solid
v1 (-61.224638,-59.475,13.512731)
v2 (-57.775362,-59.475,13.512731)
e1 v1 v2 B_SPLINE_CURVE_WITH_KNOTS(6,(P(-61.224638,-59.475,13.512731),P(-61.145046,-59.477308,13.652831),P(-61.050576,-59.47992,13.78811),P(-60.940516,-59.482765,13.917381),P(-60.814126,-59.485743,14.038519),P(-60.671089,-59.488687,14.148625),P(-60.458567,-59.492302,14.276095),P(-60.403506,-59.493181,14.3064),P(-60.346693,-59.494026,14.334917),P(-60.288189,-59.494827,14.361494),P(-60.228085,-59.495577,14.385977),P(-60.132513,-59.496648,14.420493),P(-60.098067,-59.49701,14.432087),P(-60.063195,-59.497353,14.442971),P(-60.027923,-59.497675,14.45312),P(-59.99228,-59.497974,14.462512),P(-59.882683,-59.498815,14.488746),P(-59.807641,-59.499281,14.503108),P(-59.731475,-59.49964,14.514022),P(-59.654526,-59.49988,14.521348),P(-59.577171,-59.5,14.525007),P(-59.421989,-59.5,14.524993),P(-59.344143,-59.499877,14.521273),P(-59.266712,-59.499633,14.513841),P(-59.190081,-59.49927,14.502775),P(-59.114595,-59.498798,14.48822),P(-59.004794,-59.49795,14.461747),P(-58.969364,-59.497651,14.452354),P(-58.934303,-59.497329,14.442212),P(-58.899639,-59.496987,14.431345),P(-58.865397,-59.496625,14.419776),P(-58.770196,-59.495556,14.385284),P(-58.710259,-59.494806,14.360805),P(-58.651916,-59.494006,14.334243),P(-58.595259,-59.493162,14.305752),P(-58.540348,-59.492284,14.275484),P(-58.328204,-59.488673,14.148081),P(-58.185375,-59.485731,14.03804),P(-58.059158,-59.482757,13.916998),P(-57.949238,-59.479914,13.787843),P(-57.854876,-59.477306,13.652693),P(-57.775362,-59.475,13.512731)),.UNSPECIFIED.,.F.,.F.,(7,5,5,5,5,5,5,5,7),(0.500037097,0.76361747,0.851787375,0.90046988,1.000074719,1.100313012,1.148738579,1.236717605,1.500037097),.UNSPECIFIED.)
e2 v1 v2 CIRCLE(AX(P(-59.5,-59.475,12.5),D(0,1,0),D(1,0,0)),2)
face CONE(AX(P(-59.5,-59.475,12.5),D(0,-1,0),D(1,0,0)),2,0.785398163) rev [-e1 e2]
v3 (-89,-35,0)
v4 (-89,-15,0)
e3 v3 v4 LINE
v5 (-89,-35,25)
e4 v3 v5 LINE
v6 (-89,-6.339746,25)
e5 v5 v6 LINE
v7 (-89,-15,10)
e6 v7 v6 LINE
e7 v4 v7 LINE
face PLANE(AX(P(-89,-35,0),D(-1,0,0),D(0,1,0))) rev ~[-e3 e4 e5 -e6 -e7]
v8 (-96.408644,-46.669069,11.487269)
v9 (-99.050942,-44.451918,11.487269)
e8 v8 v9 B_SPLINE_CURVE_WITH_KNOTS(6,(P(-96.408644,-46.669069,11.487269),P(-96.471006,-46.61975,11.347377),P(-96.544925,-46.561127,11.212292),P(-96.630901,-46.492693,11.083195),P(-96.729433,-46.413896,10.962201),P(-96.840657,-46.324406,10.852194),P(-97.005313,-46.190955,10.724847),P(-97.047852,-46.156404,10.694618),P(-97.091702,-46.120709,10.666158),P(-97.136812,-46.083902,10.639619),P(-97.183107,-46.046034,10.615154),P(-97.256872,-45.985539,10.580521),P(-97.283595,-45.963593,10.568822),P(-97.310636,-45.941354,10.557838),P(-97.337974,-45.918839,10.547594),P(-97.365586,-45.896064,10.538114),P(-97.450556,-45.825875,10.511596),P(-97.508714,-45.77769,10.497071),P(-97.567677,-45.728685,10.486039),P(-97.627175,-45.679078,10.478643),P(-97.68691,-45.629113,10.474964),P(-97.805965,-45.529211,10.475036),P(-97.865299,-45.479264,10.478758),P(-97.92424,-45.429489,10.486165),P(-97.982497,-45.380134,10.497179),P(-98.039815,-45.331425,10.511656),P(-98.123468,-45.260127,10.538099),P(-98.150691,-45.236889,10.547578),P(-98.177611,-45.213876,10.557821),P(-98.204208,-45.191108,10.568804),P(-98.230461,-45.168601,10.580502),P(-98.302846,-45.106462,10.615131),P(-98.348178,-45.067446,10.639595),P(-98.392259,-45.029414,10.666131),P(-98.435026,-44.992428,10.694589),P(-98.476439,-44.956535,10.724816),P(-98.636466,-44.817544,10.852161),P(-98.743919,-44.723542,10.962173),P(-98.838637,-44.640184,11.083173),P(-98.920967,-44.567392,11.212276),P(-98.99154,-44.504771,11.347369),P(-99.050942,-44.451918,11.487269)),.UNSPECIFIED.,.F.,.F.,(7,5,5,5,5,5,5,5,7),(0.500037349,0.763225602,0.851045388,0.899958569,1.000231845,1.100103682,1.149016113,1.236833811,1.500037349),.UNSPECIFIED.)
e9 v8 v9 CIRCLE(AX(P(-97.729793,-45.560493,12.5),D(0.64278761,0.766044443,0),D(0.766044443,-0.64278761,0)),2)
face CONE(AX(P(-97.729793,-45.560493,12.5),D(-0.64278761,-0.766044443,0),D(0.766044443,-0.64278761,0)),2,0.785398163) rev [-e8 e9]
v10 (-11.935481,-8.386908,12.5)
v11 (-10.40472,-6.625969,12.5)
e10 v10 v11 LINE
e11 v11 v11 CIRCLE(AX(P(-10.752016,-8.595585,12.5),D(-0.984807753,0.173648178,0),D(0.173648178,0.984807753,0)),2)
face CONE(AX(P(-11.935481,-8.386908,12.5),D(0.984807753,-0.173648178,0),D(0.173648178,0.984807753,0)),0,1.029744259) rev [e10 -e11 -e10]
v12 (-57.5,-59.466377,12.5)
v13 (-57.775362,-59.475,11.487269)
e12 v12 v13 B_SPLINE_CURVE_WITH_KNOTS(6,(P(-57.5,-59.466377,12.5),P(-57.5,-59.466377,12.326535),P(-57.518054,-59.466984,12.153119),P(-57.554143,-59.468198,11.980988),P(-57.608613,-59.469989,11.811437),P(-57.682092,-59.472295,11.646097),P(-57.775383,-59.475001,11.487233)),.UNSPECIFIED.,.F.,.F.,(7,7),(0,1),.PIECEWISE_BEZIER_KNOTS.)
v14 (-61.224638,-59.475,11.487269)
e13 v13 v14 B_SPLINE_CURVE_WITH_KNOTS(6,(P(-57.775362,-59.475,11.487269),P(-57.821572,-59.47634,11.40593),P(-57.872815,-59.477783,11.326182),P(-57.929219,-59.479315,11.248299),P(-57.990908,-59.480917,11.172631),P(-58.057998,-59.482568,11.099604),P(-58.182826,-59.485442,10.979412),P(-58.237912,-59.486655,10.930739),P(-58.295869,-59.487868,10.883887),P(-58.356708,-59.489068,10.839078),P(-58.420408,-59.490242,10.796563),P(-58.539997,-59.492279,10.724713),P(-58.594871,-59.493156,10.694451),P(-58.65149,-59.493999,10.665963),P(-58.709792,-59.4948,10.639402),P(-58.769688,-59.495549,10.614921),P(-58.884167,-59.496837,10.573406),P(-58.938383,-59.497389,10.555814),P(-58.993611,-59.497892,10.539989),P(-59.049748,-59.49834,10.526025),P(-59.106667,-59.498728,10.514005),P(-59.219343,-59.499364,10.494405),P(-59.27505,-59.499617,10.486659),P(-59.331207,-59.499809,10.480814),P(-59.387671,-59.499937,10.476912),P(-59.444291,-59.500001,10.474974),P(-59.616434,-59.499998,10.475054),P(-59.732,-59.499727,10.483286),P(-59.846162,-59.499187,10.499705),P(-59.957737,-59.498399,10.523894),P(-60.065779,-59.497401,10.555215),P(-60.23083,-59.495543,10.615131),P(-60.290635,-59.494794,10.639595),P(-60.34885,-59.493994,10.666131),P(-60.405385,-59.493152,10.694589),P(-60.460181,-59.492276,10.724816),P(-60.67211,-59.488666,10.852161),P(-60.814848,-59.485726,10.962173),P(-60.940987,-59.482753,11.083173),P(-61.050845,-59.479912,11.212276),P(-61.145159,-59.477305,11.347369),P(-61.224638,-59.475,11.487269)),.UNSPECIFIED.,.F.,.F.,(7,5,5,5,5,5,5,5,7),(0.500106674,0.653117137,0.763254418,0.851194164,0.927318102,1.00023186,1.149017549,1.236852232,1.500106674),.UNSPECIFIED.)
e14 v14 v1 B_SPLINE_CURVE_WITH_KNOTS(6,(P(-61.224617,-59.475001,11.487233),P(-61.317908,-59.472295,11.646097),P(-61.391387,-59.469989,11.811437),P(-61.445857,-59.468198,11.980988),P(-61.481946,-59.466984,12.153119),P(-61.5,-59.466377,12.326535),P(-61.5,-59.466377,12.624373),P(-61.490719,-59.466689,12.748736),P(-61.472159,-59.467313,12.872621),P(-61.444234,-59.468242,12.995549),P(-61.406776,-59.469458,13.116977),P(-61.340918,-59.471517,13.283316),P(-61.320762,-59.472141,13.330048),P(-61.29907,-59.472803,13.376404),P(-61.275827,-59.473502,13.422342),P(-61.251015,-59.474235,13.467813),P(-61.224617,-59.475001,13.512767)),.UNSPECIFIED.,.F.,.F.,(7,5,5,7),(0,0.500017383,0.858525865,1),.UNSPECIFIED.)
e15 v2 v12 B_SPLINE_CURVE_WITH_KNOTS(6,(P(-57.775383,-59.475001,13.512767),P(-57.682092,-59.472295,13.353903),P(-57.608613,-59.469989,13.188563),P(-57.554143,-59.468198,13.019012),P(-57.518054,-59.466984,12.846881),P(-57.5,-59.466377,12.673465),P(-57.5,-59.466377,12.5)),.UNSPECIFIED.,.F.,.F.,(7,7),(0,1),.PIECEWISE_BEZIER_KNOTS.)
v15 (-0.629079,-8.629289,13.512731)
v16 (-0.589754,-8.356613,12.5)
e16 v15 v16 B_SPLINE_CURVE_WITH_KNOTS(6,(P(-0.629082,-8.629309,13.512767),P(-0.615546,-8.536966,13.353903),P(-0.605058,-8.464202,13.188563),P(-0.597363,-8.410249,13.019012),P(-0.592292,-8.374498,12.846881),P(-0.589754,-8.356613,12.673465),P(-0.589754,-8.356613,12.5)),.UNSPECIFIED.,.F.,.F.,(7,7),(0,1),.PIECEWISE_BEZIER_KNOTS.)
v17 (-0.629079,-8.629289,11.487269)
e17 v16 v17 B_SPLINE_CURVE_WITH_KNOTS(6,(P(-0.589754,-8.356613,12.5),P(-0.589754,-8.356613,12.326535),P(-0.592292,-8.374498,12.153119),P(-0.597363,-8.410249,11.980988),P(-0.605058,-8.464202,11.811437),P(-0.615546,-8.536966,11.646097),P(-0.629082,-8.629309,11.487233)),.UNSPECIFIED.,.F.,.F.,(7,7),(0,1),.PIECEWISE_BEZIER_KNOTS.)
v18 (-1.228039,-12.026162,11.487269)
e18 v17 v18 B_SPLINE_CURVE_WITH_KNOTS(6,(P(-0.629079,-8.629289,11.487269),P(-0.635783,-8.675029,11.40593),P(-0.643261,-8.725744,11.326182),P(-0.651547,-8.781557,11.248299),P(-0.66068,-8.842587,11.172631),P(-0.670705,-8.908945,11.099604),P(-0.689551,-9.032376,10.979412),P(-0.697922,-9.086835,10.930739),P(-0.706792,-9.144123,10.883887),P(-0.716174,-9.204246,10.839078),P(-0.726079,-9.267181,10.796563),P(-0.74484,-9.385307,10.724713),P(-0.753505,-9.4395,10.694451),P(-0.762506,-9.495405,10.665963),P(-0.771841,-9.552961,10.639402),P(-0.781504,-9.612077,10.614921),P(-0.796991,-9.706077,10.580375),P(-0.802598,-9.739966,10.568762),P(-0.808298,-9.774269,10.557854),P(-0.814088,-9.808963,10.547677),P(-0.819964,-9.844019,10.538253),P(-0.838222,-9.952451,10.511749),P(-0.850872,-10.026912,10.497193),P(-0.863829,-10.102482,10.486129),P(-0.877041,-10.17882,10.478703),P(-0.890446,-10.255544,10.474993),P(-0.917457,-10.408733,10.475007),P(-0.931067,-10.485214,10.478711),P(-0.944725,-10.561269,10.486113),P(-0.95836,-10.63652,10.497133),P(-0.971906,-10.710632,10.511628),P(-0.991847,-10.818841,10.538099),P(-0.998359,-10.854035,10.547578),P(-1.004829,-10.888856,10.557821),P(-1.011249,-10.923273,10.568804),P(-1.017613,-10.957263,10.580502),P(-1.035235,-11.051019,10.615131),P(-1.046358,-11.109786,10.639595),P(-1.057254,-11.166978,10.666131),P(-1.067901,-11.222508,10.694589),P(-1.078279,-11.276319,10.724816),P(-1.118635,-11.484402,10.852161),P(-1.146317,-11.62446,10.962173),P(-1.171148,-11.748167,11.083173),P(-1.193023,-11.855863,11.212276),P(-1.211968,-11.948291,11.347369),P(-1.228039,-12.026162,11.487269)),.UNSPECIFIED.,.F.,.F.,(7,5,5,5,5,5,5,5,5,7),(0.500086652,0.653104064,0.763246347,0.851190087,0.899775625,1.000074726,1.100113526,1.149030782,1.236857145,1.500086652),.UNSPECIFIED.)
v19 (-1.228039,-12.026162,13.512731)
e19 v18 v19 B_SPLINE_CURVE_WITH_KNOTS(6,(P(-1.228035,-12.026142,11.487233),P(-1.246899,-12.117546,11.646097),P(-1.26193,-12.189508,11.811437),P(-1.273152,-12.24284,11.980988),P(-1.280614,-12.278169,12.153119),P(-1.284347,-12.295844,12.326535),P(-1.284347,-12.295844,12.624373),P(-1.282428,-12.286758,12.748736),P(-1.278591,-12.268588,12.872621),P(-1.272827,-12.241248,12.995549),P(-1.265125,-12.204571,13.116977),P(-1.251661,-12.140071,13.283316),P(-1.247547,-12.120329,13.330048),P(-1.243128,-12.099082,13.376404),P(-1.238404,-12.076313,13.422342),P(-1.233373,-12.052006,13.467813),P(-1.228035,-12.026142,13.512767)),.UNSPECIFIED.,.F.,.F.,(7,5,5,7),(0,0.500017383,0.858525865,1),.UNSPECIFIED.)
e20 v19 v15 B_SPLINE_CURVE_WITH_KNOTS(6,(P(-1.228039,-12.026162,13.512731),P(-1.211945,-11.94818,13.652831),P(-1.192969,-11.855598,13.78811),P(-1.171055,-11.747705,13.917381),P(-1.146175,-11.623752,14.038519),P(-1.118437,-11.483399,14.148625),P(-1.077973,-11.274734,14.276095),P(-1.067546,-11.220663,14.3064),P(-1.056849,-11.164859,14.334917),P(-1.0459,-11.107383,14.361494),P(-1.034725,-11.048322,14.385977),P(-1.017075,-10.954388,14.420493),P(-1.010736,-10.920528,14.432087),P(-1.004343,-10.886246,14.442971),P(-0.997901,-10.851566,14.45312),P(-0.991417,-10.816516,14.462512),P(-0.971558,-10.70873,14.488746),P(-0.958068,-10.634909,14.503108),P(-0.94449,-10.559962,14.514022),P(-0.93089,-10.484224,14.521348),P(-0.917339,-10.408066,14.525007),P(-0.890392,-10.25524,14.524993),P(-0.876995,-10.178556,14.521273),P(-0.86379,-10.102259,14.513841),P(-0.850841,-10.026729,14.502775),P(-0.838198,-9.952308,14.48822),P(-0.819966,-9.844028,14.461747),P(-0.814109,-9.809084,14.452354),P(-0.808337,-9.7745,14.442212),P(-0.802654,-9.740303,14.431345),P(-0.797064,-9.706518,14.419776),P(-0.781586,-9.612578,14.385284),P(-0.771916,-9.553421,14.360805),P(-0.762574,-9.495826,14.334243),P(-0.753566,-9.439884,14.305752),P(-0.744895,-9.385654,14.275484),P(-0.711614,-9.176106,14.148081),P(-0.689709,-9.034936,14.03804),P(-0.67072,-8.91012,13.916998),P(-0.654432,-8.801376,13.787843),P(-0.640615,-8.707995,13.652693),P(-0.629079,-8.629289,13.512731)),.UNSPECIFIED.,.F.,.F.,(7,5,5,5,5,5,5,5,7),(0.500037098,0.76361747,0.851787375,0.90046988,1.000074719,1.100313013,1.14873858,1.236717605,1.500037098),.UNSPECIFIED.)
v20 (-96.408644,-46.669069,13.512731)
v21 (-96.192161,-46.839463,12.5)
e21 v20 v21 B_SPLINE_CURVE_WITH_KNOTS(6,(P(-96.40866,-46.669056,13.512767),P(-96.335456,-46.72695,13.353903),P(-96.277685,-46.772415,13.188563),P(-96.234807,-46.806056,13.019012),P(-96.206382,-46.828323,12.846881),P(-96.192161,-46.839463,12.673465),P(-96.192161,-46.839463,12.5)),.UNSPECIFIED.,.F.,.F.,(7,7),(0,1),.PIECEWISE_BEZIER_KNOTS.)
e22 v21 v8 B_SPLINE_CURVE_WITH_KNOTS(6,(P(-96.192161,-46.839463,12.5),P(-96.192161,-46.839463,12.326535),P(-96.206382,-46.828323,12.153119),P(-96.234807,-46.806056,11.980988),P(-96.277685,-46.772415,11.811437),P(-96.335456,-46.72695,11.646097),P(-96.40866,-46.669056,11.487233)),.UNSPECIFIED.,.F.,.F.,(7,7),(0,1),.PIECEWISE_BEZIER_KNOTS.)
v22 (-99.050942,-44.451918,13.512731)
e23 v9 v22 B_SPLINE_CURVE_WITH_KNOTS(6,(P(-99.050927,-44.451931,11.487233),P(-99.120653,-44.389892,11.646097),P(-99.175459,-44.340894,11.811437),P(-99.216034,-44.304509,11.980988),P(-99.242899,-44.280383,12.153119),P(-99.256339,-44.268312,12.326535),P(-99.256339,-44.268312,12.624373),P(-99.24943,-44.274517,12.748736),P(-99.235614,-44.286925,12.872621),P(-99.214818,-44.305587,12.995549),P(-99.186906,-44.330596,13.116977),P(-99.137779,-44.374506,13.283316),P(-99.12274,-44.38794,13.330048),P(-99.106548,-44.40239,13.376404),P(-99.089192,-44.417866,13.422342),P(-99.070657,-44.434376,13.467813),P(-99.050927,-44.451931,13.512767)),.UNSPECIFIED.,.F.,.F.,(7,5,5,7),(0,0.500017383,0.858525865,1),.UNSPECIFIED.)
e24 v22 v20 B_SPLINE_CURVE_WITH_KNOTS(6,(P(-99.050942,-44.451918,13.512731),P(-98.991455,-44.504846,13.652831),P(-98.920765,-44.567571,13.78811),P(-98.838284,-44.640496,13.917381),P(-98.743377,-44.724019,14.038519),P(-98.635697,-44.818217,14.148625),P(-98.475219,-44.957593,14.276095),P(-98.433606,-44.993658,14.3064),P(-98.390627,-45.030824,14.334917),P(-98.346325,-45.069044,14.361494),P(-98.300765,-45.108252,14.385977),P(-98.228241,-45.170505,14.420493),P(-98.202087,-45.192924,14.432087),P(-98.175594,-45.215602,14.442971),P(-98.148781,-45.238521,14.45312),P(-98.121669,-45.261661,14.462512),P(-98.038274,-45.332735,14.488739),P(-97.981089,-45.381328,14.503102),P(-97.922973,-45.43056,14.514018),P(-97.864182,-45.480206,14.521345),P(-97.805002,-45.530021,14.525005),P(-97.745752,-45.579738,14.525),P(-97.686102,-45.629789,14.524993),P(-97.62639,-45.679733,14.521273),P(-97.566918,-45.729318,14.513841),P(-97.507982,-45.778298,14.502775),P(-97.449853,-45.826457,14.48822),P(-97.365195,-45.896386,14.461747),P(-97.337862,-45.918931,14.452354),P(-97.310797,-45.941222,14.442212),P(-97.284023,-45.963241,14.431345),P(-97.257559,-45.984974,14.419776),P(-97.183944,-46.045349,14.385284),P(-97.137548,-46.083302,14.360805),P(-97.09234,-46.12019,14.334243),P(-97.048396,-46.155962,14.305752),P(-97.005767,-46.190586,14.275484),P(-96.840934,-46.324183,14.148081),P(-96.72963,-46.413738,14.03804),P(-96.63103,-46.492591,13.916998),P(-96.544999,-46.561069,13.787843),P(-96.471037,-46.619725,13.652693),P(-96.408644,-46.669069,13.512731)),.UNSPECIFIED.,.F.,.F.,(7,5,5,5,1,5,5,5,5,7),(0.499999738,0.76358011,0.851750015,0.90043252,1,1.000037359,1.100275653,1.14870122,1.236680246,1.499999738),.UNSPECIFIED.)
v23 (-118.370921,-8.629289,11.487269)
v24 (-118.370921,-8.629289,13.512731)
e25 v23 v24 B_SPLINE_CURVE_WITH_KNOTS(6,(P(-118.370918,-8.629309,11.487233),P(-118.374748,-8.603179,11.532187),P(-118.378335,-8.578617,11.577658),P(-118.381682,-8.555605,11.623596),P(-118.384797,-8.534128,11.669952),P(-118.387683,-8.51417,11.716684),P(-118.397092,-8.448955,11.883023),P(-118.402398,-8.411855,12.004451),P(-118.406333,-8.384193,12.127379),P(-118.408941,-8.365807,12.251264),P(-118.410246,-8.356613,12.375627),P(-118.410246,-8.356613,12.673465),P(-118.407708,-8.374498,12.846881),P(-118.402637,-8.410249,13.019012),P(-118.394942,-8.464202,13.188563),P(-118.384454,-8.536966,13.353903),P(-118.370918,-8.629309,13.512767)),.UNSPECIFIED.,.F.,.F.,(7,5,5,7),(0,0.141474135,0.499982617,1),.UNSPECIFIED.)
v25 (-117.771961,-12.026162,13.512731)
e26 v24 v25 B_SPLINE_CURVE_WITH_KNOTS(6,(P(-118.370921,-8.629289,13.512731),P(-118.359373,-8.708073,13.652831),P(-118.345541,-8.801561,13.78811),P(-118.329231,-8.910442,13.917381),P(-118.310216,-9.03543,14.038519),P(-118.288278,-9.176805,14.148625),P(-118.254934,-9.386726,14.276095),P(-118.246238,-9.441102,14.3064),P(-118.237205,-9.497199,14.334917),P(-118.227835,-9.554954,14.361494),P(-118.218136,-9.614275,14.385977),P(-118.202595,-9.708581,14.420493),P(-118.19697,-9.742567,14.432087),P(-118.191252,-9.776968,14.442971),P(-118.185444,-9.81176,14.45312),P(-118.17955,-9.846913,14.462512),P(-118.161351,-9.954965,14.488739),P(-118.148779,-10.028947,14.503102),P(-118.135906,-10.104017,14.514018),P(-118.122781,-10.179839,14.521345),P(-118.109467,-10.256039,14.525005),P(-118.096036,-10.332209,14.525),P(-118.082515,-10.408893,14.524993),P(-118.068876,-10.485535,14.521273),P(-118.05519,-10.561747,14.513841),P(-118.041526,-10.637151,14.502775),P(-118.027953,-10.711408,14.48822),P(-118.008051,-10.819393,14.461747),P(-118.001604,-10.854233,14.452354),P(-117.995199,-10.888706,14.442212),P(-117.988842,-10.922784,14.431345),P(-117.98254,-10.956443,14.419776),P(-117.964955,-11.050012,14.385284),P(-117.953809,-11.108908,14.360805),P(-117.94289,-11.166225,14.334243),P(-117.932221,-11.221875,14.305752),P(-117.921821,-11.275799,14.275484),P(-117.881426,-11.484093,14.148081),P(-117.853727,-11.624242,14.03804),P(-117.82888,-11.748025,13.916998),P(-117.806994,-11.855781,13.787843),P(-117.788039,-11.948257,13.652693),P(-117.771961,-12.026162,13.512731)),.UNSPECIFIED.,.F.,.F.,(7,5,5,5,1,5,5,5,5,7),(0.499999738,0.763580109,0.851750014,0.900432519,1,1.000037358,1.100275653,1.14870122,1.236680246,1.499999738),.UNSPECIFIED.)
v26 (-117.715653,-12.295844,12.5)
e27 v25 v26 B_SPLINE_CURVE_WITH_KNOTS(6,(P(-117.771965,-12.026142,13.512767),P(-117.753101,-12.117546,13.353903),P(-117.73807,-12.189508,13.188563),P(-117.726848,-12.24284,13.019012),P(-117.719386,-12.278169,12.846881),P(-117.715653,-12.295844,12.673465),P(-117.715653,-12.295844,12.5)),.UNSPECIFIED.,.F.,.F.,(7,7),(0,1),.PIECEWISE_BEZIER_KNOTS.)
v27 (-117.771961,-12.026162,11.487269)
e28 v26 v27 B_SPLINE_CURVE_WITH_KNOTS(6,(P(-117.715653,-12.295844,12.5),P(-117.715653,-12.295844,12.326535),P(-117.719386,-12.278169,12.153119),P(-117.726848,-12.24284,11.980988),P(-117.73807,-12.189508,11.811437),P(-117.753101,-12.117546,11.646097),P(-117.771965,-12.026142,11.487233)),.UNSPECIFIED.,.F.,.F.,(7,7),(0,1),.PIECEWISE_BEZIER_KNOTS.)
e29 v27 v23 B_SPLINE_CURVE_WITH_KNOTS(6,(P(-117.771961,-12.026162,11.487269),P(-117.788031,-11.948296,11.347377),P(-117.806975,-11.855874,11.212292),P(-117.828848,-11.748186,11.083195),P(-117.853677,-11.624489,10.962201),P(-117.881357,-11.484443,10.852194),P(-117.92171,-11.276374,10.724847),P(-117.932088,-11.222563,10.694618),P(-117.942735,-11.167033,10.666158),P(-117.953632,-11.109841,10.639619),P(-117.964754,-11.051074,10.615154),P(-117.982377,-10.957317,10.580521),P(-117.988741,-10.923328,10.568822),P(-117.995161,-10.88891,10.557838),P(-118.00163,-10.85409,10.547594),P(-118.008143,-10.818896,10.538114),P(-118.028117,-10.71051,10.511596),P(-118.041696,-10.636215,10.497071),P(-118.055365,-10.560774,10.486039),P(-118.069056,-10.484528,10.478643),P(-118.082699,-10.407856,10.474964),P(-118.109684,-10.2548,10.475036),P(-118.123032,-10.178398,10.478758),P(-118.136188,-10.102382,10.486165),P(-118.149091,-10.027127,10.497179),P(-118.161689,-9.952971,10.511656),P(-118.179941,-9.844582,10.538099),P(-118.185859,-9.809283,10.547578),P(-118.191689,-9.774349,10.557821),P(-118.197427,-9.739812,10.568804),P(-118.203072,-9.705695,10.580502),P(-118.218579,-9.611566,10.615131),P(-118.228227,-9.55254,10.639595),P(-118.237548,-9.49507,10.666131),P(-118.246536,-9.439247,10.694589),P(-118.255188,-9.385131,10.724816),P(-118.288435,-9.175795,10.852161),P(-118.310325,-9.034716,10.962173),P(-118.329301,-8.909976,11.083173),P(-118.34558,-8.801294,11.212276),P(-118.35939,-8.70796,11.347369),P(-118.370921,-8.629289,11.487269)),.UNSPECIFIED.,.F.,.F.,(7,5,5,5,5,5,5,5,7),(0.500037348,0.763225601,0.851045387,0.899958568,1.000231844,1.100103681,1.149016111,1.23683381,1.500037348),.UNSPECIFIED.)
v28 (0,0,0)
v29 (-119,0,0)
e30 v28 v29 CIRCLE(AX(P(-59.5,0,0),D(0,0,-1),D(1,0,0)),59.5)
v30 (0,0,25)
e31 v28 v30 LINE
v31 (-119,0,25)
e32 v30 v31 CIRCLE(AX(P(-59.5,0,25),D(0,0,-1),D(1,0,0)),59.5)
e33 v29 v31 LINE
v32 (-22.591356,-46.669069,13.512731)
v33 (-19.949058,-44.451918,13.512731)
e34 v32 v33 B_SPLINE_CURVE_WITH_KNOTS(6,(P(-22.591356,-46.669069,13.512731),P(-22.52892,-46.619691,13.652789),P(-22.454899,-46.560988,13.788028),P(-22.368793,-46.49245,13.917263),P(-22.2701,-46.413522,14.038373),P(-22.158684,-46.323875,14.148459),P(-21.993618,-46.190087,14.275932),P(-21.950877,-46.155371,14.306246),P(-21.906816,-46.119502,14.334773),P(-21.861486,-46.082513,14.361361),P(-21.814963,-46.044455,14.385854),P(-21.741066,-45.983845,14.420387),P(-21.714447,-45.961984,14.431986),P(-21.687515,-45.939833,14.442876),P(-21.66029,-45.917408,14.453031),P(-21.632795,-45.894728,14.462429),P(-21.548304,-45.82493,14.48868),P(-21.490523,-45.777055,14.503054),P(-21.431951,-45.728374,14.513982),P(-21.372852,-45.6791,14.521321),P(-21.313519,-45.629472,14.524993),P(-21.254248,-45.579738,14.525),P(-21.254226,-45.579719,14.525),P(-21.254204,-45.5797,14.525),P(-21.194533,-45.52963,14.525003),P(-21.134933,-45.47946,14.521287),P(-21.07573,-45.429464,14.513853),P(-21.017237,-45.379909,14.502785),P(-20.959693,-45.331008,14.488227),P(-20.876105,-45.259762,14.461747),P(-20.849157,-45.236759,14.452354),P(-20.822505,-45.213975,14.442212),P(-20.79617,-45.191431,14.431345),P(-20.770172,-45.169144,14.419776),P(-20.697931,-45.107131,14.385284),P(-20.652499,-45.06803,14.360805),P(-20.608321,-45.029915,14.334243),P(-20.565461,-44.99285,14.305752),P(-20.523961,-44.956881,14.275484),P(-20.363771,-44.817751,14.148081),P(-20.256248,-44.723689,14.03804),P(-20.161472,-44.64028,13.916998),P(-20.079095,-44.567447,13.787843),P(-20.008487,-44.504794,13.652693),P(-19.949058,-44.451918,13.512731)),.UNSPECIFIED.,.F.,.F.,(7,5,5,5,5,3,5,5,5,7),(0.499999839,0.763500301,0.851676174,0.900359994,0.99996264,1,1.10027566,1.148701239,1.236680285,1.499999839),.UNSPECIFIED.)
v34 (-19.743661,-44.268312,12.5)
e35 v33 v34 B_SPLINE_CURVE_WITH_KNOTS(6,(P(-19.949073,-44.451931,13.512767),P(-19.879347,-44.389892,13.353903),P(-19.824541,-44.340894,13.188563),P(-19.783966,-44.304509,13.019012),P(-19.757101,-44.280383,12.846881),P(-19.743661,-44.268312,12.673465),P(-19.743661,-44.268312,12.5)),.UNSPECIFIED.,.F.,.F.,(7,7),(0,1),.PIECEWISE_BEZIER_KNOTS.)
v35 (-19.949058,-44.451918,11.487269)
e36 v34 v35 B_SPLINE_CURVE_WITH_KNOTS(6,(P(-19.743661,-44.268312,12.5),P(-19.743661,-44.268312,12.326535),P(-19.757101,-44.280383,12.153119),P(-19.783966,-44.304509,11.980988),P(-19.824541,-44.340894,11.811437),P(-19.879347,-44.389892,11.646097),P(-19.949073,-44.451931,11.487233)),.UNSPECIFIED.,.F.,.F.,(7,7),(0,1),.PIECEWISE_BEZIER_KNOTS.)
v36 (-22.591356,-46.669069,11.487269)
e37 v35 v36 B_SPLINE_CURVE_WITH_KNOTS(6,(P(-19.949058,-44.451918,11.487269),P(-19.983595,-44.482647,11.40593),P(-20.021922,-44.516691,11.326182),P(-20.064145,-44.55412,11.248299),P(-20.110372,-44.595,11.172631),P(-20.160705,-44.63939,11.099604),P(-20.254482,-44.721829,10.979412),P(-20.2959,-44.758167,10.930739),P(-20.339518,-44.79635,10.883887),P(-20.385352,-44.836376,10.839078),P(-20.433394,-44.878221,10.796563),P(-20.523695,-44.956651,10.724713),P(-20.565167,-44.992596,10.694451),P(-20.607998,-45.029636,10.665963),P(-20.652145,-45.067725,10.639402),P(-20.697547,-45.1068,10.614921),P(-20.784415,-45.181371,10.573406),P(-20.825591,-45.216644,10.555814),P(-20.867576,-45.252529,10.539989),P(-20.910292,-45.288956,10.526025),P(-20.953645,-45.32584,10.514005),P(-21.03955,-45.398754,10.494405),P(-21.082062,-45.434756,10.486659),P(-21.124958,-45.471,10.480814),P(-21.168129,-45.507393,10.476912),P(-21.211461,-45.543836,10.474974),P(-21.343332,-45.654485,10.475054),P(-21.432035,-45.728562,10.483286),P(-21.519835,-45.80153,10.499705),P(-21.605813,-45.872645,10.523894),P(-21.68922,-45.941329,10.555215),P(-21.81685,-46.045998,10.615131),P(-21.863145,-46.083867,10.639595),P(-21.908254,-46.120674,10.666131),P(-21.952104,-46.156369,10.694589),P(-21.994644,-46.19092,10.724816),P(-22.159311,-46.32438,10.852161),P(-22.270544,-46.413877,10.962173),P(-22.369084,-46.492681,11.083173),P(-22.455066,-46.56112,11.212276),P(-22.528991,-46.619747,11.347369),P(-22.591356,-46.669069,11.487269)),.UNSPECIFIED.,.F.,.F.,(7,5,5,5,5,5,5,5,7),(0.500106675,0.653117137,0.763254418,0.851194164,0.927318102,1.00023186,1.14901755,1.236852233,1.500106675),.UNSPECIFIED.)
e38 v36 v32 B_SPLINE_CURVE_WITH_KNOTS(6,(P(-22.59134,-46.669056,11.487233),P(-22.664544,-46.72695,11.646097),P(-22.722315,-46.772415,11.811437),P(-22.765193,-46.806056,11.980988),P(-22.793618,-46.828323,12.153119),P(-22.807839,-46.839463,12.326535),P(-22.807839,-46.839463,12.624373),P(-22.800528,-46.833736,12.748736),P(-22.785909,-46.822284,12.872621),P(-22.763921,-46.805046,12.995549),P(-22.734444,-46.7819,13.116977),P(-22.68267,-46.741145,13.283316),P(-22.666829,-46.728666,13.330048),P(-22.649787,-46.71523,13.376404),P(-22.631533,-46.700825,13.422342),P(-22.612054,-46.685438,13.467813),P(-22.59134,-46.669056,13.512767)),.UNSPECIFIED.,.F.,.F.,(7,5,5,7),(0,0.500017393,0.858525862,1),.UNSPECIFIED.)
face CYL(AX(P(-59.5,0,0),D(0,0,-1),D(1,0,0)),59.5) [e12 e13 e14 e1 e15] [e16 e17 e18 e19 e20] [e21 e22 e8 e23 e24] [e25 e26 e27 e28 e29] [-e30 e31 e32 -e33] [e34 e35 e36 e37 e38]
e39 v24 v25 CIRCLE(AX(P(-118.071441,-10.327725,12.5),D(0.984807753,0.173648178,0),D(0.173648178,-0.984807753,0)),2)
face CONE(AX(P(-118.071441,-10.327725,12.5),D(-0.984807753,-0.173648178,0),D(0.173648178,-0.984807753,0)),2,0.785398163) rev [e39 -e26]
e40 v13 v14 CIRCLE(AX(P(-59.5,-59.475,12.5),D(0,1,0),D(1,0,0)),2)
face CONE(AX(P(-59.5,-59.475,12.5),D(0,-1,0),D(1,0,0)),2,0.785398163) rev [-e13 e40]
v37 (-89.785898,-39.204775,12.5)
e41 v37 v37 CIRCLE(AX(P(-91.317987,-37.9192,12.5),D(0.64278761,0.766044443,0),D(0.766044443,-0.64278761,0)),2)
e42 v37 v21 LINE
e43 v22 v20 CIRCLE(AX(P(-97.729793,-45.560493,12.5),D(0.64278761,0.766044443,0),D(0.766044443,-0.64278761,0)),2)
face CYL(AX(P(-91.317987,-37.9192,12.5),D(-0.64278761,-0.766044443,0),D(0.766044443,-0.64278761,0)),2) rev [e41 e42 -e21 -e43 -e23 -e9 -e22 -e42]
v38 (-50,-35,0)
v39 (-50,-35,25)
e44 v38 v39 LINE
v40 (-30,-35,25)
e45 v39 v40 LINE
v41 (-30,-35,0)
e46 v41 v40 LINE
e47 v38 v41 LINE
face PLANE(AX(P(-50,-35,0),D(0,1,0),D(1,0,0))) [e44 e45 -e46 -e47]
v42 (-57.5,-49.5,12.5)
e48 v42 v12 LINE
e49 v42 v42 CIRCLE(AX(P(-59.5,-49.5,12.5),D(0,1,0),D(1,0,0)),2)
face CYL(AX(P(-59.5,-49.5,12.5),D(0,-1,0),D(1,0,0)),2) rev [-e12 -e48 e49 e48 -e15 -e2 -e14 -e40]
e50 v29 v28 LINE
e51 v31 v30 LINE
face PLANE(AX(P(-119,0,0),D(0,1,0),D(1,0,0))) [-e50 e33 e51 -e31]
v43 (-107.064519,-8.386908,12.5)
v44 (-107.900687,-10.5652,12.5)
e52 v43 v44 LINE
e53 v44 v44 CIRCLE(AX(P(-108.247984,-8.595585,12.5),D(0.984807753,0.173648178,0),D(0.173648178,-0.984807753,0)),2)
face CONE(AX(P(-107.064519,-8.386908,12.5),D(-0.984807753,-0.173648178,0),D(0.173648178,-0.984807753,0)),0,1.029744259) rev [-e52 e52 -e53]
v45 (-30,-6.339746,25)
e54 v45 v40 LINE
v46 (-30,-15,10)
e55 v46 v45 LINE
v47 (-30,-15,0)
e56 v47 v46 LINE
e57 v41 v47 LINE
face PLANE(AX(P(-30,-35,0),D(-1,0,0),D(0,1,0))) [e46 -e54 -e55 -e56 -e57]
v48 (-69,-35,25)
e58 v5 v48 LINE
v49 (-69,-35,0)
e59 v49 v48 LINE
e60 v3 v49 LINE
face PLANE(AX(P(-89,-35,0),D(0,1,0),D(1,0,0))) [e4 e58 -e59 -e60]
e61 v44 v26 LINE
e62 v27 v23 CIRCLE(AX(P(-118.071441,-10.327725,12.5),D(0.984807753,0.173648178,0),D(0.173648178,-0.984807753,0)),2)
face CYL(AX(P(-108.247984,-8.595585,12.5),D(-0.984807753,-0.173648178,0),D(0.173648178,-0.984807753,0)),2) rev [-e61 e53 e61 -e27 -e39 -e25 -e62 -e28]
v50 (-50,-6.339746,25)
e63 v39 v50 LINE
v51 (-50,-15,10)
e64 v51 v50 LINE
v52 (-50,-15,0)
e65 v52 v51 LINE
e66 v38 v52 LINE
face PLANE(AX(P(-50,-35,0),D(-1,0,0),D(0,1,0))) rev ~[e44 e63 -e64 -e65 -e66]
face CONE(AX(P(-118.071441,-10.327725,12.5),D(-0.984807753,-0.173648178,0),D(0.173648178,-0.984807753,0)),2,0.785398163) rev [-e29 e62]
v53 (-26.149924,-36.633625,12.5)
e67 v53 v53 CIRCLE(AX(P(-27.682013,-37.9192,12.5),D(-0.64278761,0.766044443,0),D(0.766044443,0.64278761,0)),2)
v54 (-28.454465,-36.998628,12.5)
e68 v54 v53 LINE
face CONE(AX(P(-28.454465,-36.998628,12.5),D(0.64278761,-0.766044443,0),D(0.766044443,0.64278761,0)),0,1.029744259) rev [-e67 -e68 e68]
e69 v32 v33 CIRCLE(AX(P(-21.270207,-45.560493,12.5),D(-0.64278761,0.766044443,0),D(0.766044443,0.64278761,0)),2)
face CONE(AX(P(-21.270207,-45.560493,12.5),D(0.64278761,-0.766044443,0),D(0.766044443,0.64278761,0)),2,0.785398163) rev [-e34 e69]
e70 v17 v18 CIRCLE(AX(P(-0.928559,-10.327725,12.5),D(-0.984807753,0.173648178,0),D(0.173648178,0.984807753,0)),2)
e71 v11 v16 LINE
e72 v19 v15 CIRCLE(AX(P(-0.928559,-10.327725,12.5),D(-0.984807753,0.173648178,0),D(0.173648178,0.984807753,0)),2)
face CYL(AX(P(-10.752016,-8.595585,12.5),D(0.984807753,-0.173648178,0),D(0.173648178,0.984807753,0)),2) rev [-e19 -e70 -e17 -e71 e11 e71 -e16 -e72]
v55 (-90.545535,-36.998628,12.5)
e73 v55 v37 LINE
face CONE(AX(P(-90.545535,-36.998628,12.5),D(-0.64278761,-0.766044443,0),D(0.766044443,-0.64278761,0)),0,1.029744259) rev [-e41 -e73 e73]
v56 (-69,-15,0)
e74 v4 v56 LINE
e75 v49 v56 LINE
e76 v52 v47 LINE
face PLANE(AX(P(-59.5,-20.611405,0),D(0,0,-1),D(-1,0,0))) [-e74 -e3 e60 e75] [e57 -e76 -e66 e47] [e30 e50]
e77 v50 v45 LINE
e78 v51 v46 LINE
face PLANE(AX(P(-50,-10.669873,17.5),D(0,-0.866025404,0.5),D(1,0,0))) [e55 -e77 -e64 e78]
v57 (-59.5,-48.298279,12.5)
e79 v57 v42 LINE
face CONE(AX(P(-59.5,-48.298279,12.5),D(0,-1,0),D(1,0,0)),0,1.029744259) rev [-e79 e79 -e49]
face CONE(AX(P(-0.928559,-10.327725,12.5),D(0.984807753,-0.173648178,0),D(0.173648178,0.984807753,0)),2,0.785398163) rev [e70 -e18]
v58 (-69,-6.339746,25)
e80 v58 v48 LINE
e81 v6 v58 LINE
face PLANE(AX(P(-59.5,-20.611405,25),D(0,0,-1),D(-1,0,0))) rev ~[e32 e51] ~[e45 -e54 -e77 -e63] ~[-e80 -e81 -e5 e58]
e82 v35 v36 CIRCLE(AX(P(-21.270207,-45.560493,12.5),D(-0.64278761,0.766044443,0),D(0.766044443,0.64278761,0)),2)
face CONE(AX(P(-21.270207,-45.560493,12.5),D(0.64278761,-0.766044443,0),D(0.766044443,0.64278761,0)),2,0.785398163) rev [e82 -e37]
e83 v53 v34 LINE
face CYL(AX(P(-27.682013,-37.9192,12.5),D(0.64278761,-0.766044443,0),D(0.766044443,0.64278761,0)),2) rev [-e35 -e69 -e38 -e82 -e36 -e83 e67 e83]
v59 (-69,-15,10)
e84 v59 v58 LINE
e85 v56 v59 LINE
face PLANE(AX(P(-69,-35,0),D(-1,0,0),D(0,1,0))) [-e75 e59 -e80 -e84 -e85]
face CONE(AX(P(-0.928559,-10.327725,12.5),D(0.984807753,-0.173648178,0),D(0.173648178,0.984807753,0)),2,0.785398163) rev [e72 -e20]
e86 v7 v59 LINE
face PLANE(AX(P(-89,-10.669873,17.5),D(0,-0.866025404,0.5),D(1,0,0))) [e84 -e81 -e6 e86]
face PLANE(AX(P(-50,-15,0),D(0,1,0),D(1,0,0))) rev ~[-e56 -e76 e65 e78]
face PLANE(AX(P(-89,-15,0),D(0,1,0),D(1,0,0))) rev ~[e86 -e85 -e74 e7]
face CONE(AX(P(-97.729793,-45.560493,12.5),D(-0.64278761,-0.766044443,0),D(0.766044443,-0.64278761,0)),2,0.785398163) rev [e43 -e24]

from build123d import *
from OCP.BRepFilletAPI import BRepFilletAPI_MakeChamfer

# Parameters (mm, degrees)
SKETCH1_W           = 20
SKETCH1_H           = 20
BOSS_EXTRUDE1_DEPTH = 25
CIRPATTERN1_COUNT   = 5
CIRPATTERN1_ANGLE   = 160
CHAMFER1_SIZE       = 15
CHAMFER1_SIZE2      = 8.660254038


with BuildPart() as part:
    # Sketch1 → Boss-Extrude1 (new body)
    with BuildSketch(Plane.XY):
        with BuildLine():
            Line((-119, 0), (0, 0))
            ThreePointArc((0, 0), (-59.5, -59.5), (-119, 0))
        make_face()
        with Locations((-40, -25)):
            Rectangle(SKETCH1_W, SKETCH1_H, mode=Mode.SUBTRACT)
        with Locations((-79, -25)):
            Rectangle(SKETCH1_W, SKETCH1_H, mode=Mode.SUBTRACT)
    extrude(amount=BOSS_EXTRUDE1_DEPTH)

    # Sketch4 → Ø4.0mm Dowel Hole2 (revolve, cut)
    with BuildSketch(Plane(origin=(-0.903938696, -10.332066571, 12.5), x_dir=(0.1736481776669305, 0.9848077530122081, 0), z_dir=(0, 0, 1))):
        Polygon((0, 0), (0, 11.201721238), (2, 10), (2, 0.025), (2.025, 0), align=None)
    f_4_0mm_dowel_hole2 = revolve(axis=Axis((5.349590536, -11.434732499, 12.5), (-0.9848077530122081, 0.1736481776669305, 0)), mode=Mode.SUBTRACT)

    # CirPattern1: Ø4.0mm Dowel Hole2 ×5 about axis
    cirpattern1_axis = Axis((-59.5, 0, 0), (0, 0, -1))
    for i in range(1, CIRPATTERN1_COUNT):
        add(f_4_0mm_dowel_hole2.rotate(cirpattern1_axis, i * CIRPATTERN1_ANGLE / (CIRPATTERN1_COUNT - 1)), mode=Mode.SUBTRACT)

    # Chamfer1: one chamfer whose edges measure the first distance from different faces: ONE call of the kernel's chamfer builder (chamfer() names one face for all edges)
    chamfer1_edges_1 = [part.edges().sort_by_distance(p)[0] for p in [
        (-40, -15, 25),
    ]]
    chamfer1_side_1 = [part.faces().sort_by_distance(p)[0] for p in [
        (-40, -15, 12.5),
    ]]
    chamfer1_edges_2 = [part.edges().sort_by_distance(p)[0] for p in [
        (-79, -15, 25),
    ]]
    chamfer1_side_2 = [part.faces().sort_by_distance(p)[0] for p in [
        (-79, -15, 12.5),
    ]]
    chamfer1 = BRepFilletAPI_MakeChamfer(part.part.solid().wrapped)
    for e in chamfer1_edges_1:
        chamfer1.Add(CHAMFER1_SIZE, CHAMFER1_SIZE2, e.wrapped, chamfer1_side_1[0].wrapped)  # the first distance lies on this face
    for e in chamfer1_edges_2:
        chamfer1.Add(CHAMFER1_SIZE, CHAMFER1_SIZE2, e.wrapped, chamfer1_side_2[0].wrapped)  # the first distance lies on this face
    add(Compound.cast(chamfer1.Shape()), mode=Mode.REPLACE)


solid = part.part
